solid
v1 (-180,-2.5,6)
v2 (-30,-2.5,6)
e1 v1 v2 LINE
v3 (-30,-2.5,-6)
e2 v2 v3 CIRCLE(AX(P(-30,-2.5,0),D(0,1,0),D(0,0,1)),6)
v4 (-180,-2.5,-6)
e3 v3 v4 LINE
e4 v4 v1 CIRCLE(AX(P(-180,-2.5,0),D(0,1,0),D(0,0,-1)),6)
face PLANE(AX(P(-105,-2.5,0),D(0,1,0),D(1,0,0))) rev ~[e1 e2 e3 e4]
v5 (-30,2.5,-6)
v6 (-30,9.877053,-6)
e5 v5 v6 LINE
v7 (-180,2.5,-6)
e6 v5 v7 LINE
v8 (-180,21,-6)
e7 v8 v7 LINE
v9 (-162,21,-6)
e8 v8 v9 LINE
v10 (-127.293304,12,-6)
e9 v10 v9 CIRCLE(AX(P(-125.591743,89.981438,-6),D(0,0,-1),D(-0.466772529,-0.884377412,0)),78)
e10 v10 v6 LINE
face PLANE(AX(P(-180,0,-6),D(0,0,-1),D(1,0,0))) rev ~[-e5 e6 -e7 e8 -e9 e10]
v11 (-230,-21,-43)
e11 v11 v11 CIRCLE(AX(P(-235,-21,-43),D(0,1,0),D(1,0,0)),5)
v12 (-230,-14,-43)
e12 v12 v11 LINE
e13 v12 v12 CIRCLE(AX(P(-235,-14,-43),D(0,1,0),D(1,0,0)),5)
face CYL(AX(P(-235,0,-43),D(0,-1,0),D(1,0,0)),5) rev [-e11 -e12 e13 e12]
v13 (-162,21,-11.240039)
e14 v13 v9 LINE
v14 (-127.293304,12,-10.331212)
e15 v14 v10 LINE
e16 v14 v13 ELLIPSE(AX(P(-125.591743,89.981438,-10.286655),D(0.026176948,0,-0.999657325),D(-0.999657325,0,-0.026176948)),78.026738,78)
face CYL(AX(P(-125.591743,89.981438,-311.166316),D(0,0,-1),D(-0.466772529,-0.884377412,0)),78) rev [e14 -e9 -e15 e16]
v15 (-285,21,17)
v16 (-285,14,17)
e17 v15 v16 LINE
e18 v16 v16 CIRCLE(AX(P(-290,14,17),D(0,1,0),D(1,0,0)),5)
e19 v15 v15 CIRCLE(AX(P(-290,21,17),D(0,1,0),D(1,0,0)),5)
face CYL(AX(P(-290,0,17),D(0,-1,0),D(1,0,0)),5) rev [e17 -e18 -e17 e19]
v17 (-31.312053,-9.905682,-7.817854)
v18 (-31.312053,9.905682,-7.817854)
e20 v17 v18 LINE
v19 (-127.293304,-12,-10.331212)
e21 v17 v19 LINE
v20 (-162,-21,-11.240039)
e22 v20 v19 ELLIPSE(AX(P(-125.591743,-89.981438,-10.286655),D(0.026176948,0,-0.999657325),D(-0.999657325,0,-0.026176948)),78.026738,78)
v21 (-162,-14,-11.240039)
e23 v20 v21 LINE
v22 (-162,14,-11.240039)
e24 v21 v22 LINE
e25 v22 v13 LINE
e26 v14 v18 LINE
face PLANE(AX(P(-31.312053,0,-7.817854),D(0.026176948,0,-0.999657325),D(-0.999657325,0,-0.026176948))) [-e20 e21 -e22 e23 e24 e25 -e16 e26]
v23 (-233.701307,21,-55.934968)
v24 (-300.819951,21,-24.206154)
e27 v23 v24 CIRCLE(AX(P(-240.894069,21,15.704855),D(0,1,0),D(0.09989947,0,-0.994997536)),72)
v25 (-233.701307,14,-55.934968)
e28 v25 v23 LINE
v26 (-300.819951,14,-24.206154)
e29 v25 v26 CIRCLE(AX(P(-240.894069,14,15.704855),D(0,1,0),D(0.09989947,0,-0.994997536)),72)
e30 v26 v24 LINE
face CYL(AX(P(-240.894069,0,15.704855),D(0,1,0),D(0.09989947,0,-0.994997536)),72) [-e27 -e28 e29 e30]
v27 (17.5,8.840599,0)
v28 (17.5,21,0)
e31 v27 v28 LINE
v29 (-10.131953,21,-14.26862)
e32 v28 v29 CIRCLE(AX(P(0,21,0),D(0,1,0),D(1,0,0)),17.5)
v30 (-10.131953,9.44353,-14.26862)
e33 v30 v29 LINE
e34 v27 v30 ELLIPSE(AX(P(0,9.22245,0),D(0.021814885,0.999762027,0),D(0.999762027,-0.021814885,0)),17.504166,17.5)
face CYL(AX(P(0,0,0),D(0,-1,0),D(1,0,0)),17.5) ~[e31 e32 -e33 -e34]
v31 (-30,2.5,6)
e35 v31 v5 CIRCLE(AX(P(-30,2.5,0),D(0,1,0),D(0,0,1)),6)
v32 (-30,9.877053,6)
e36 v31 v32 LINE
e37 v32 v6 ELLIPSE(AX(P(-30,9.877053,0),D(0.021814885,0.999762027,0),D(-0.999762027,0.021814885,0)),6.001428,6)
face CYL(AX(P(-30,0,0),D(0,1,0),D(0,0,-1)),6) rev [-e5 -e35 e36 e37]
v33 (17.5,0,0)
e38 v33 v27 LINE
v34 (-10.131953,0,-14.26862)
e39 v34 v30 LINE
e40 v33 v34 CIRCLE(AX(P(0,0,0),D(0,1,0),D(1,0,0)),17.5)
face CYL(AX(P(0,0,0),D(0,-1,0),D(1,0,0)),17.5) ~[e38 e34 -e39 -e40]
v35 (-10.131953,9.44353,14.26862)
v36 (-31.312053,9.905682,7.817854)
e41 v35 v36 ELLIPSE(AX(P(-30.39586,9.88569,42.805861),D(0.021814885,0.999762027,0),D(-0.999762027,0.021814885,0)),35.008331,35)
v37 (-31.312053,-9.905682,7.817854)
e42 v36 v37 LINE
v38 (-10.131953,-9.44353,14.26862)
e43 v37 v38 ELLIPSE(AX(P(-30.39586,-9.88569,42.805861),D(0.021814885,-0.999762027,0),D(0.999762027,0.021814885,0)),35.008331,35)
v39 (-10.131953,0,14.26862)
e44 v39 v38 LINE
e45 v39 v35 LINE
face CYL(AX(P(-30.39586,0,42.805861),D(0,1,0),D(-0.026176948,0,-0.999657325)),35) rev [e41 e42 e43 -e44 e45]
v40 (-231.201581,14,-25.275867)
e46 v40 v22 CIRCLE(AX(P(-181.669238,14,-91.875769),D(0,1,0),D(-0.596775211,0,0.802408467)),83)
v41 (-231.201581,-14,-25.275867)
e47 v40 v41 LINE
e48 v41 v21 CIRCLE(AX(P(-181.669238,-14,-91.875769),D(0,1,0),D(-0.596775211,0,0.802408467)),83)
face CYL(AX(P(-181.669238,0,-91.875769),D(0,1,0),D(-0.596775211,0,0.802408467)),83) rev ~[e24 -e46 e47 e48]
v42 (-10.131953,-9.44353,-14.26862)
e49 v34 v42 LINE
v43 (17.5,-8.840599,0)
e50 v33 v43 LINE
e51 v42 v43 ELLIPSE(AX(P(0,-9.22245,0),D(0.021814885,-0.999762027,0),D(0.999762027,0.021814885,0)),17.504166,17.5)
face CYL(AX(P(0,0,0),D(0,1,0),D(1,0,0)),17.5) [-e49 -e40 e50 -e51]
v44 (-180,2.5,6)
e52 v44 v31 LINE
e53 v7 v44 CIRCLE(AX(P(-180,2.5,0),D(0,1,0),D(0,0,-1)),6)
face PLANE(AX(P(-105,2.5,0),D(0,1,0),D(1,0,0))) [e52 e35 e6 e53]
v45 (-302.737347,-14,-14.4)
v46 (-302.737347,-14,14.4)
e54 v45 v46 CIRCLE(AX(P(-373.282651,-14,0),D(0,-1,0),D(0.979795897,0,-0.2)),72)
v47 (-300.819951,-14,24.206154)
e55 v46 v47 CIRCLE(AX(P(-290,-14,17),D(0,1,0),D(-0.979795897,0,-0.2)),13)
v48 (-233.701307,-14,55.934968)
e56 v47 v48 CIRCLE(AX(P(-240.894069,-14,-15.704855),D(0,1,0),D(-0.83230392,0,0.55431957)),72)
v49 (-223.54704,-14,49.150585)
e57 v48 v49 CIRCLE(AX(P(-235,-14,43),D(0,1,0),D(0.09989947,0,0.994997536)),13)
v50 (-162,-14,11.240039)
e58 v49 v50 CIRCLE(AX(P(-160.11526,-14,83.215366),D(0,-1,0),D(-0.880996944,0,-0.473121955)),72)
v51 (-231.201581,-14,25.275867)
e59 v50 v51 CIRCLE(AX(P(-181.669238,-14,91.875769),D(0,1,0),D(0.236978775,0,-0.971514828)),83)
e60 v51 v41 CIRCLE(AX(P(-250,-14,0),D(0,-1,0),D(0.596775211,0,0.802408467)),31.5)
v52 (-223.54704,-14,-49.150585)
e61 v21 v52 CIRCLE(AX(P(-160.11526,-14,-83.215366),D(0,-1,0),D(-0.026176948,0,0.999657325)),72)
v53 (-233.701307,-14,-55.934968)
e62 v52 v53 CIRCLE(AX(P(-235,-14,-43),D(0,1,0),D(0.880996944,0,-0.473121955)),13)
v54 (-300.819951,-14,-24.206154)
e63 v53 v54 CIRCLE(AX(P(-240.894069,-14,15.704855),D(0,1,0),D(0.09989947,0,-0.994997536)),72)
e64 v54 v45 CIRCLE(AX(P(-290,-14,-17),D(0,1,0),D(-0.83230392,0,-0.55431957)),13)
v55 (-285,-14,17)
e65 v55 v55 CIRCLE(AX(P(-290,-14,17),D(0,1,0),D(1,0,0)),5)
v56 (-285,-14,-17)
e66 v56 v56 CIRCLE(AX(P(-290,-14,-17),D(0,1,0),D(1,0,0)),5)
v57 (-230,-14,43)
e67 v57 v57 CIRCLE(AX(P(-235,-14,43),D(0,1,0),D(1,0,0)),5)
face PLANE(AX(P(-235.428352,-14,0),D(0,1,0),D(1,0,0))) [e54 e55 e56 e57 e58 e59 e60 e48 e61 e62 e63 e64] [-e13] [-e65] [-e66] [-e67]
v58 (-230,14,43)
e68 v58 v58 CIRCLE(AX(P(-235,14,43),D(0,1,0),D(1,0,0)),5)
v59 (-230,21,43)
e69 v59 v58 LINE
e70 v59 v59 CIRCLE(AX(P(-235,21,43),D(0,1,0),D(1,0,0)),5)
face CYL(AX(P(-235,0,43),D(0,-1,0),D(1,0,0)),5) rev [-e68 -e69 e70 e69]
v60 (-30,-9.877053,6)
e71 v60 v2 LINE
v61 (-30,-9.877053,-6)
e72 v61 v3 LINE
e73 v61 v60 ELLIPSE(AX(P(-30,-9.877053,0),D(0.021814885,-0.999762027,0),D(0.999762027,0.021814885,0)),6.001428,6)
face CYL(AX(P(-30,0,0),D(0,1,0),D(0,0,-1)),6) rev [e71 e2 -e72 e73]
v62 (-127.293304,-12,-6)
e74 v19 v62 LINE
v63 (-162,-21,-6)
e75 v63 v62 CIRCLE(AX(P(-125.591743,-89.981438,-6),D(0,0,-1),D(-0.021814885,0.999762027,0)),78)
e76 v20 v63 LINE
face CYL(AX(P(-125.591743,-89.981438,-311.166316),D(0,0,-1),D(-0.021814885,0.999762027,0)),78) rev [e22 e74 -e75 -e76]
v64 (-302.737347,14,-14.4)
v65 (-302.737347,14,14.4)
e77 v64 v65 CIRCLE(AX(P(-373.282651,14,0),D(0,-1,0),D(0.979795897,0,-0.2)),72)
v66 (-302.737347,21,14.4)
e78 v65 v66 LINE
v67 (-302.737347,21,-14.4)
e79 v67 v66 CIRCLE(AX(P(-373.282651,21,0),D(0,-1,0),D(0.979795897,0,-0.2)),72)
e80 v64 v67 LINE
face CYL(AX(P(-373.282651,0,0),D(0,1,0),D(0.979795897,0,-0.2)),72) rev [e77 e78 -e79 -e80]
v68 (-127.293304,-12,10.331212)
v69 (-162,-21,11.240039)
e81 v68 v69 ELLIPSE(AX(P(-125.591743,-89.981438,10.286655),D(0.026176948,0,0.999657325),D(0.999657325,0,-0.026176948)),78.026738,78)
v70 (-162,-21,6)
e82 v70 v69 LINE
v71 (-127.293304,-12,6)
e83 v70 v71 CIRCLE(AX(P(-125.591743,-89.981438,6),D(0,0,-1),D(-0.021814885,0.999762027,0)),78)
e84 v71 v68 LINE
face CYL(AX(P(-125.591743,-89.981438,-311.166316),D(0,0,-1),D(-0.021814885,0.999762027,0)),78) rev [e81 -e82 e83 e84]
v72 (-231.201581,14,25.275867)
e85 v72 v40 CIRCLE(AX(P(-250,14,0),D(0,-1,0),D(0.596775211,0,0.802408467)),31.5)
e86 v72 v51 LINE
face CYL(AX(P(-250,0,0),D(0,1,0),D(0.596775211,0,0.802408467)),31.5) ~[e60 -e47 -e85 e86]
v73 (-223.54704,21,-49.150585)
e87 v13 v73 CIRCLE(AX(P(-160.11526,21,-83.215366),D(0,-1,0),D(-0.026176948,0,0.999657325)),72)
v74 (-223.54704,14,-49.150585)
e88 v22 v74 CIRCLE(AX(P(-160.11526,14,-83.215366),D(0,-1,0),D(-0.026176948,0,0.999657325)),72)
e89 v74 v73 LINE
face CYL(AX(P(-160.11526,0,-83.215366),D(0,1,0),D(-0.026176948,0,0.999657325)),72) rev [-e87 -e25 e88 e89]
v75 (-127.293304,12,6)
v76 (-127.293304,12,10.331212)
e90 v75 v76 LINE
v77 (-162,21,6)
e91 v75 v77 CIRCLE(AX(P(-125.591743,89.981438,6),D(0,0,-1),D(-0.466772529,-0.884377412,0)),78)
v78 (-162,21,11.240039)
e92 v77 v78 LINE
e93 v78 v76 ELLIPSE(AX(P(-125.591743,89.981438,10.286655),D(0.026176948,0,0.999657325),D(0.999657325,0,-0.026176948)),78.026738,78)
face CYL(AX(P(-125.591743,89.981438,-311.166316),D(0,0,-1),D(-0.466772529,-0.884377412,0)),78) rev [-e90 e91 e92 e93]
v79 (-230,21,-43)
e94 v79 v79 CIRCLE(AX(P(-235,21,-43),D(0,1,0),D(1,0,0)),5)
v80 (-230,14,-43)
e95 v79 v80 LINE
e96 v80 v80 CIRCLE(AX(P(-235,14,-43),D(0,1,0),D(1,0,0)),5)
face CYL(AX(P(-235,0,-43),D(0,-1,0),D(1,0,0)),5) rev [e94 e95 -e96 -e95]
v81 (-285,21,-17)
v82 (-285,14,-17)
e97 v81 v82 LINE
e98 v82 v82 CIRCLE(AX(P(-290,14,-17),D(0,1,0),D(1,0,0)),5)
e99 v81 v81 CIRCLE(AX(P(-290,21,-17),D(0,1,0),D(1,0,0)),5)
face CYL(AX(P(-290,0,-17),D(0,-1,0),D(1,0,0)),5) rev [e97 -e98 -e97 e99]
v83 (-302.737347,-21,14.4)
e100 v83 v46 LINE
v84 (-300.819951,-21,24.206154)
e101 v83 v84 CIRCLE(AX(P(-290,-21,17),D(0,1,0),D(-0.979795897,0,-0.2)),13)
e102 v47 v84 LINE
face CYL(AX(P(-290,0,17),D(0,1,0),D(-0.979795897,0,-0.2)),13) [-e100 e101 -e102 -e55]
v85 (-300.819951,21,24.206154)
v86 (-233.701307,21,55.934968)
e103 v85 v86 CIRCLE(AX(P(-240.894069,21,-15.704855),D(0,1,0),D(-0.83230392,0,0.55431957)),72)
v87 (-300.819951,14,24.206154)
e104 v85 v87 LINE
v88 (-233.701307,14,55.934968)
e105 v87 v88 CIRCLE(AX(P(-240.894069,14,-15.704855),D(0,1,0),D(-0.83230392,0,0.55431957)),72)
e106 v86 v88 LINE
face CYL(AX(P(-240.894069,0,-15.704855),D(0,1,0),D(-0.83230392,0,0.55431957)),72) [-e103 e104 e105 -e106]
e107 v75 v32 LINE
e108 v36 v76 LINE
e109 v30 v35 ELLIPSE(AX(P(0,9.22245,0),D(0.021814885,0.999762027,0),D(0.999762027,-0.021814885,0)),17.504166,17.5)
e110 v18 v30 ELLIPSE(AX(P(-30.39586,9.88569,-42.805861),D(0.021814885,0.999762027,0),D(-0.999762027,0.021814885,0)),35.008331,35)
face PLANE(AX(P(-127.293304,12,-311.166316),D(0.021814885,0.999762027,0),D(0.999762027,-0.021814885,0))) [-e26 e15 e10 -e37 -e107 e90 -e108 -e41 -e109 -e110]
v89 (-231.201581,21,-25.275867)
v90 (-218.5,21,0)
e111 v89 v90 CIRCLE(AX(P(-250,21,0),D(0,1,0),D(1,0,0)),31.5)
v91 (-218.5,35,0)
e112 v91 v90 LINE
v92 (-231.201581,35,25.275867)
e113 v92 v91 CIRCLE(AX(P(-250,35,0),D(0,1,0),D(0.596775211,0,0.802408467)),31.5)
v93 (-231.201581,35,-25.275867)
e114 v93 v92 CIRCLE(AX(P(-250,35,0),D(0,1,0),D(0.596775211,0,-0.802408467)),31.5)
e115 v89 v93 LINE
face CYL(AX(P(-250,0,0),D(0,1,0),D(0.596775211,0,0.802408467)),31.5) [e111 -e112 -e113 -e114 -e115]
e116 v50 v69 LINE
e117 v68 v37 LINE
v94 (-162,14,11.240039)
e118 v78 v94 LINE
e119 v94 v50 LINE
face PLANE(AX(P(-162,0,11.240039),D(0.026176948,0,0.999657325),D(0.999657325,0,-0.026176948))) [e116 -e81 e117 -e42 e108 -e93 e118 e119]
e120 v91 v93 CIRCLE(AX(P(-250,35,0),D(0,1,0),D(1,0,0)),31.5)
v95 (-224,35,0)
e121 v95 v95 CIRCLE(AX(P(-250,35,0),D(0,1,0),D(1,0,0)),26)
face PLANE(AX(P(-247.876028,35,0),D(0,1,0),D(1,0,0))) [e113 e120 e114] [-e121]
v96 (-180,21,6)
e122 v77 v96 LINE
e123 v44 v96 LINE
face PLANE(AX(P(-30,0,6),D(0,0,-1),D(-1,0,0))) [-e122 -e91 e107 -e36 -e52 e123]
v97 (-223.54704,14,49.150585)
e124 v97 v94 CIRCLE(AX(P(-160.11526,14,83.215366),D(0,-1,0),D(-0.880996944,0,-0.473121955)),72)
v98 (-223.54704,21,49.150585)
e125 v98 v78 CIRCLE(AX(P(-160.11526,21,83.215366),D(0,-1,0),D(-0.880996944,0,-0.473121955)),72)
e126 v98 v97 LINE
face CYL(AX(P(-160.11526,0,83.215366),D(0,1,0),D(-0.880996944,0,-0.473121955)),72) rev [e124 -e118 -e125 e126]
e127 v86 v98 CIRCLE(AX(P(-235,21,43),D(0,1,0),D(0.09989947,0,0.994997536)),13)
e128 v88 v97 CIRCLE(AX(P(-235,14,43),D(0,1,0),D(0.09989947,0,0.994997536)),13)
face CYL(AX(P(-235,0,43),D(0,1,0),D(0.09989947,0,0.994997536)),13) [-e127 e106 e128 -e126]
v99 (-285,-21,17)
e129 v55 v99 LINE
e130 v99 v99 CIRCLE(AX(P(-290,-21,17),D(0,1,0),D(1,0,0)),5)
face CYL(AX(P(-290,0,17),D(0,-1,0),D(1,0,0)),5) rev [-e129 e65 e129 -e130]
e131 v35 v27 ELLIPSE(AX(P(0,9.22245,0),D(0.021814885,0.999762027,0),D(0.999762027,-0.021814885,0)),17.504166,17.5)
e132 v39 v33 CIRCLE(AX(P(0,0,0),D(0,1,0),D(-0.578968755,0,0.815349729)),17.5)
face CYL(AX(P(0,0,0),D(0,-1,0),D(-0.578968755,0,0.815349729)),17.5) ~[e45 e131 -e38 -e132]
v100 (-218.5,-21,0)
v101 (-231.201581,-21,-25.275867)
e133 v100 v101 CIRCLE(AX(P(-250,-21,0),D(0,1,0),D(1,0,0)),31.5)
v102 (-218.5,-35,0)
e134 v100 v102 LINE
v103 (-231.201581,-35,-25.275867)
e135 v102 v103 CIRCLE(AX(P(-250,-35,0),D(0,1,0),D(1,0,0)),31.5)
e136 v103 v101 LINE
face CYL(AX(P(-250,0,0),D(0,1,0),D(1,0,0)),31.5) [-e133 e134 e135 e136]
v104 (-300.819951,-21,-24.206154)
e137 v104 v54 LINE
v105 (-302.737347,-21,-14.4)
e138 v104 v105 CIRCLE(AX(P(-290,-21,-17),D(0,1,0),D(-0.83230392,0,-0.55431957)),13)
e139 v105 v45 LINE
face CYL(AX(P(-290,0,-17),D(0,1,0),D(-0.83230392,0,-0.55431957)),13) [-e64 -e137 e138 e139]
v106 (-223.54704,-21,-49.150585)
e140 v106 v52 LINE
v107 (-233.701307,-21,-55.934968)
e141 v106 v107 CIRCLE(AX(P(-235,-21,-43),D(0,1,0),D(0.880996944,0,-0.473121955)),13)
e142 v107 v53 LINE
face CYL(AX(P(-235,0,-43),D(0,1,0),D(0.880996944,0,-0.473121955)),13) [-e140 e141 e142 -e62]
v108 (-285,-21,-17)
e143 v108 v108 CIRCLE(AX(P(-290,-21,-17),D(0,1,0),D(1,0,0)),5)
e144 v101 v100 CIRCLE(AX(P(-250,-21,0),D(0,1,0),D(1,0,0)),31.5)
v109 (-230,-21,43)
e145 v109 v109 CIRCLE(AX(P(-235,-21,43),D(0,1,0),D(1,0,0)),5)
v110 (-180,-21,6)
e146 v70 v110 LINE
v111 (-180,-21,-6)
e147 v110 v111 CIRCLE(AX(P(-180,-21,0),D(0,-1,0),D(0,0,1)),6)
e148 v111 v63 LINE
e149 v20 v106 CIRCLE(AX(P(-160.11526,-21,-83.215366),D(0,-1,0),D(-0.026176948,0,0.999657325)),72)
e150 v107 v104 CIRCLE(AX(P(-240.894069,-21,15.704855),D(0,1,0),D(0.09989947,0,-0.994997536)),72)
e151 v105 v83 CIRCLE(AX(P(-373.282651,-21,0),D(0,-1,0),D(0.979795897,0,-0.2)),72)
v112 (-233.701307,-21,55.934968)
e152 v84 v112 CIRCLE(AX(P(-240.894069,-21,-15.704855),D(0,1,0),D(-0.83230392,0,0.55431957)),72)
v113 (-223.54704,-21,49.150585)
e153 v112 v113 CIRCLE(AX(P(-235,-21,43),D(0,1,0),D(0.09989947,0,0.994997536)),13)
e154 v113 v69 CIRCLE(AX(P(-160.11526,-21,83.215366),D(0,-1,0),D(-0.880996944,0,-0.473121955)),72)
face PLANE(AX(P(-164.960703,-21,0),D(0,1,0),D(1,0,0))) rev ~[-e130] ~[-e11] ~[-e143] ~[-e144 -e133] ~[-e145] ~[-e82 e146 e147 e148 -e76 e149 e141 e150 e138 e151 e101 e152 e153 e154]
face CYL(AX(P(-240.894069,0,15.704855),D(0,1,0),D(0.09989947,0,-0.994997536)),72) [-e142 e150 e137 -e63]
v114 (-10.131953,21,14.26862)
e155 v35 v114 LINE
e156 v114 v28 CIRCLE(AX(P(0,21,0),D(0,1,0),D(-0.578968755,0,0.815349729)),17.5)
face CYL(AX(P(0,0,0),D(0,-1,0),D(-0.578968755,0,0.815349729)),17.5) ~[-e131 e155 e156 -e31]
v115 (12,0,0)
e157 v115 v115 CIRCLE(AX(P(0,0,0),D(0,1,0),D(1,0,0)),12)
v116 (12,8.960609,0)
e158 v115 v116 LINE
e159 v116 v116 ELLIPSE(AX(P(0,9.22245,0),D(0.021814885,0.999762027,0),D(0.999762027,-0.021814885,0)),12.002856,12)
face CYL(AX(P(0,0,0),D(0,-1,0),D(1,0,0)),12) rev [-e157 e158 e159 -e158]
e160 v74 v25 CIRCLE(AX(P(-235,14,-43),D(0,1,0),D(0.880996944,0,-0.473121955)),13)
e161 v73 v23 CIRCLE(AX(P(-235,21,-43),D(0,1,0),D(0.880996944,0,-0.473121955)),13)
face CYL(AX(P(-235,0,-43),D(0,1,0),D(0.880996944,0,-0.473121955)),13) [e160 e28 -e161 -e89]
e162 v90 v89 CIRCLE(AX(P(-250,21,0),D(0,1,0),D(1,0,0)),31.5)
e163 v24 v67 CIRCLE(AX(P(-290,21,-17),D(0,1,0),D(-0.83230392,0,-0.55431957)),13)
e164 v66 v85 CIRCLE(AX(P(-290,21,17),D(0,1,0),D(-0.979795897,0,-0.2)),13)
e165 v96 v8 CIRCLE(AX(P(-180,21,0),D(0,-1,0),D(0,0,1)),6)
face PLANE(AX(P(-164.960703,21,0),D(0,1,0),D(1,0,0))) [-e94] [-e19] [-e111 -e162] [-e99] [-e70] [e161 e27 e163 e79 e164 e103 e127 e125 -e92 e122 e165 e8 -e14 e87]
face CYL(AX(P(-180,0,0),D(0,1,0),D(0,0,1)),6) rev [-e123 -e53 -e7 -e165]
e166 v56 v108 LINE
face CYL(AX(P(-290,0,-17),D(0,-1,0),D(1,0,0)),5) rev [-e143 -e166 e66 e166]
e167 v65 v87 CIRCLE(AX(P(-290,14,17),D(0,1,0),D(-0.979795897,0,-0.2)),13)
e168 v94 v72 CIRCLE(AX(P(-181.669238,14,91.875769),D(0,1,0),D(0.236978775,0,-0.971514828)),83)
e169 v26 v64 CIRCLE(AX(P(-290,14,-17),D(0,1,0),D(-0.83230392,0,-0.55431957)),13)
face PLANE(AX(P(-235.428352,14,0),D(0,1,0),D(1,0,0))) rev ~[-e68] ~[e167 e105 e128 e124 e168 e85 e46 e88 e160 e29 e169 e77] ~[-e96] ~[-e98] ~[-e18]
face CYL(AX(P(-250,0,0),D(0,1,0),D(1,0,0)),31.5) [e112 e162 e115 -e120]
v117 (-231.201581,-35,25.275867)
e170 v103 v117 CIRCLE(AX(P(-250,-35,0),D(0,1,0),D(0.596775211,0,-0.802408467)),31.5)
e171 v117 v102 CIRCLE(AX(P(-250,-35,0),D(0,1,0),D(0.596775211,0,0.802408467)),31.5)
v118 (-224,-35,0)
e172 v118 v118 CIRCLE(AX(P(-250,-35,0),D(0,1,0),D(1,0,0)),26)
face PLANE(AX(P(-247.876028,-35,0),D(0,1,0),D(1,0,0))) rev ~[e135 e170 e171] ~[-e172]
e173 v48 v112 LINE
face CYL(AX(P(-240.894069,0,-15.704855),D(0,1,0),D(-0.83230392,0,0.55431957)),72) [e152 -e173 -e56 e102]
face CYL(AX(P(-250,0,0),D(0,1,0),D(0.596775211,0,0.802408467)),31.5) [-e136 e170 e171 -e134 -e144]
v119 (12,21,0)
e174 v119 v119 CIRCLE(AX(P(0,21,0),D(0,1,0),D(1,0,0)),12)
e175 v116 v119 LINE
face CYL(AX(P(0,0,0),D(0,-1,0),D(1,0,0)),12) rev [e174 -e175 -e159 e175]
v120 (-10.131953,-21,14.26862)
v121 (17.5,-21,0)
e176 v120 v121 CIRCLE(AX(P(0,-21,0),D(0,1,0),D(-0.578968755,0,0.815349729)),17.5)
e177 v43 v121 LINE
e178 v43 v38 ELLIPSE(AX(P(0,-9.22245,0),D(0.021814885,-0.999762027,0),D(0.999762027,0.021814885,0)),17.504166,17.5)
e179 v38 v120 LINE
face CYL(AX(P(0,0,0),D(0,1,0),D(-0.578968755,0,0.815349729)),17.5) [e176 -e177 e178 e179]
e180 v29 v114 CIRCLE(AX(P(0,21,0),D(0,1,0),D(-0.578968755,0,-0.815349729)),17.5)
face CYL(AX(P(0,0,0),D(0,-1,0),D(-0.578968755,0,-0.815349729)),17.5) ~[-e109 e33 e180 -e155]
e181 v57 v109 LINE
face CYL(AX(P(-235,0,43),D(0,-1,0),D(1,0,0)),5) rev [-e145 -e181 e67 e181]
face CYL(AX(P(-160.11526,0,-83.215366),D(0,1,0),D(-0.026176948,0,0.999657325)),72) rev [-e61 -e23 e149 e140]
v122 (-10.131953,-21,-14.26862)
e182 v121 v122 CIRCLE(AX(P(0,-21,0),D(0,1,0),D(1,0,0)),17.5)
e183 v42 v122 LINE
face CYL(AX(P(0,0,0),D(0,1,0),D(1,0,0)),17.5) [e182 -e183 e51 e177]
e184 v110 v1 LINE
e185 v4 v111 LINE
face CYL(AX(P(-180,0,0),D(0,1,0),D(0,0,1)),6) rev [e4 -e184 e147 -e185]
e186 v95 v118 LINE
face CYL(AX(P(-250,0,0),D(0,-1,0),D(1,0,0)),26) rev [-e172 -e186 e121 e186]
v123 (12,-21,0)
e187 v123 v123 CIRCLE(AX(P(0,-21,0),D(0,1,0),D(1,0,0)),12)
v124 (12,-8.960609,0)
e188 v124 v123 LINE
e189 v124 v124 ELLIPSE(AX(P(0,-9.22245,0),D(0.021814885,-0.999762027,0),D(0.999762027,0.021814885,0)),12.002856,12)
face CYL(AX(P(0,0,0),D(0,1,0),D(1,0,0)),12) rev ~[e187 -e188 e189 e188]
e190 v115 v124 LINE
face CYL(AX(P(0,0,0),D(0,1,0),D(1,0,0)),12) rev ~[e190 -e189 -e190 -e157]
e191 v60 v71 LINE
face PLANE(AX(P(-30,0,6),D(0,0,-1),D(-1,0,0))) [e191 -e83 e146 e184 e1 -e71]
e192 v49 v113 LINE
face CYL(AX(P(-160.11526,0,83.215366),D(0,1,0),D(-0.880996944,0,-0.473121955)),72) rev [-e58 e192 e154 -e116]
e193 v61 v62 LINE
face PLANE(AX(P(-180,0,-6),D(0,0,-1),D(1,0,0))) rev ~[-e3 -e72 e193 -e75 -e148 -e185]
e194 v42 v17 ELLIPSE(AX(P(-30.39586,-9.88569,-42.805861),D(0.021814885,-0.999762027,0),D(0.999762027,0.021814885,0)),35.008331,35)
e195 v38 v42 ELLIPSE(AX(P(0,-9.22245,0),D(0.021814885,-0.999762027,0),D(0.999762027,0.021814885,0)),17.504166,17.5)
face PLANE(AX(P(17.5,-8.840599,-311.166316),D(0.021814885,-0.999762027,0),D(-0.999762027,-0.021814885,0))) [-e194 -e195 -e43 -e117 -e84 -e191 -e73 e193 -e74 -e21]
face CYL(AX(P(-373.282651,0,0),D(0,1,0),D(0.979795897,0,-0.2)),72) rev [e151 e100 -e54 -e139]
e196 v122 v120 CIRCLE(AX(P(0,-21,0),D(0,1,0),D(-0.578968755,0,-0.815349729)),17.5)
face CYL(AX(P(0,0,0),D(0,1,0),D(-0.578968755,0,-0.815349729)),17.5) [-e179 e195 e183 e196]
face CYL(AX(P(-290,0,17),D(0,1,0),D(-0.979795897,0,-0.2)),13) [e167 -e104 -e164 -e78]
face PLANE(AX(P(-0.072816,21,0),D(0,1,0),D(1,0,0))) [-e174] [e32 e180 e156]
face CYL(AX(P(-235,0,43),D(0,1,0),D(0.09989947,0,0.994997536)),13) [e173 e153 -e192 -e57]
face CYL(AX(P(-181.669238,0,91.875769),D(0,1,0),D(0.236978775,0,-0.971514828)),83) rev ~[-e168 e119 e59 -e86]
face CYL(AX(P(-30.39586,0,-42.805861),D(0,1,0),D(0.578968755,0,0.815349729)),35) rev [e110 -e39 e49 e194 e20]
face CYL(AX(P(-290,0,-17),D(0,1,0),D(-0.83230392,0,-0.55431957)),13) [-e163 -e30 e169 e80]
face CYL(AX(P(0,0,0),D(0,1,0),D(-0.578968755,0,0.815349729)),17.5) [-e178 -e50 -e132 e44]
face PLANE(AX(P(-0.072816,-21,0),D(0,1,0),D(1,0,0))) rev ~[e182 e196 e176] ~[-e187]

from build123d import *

# Parameters (mm, degrees)
SKETCH1_R               = 12
BOSS_EXTRUDE1_DEPTH     = 21
SKETCH1_3_R             = 26
BOSS_EXTRUDE2_DEPTH     = 35
SKETCH1_4_R             = 31.5
SKETCH1_4_R_2           = 5
BOSS_EXTRUDE3_DEPTH     = 21
BOSS_EXTRUDE4_DEPTH     = 2.5
CUT_EXTRUDE1_DEPTH      = 311.166315701
CUT_EXTRUDE1_DEPTH_BACK = 311.166315701
SKETCH1_6_R             = 12
BOSS_EXTRUDE5_DEPTH     = 21
SKETCH1_7_R             = 5
CUT_EXTRUDE2_DEPTH      = 14


with BuildPart() as part:
    # Sketch1 → Boss-Extrude1 (new, symmetric)
    with BuildSketch(Plane(origin=(0, 0, 0), x_dir=(1, 0, 0), z_dir=(0, 1, 0))):
        with BuildLine():
            ThreePointArc((17.5, 0), (8.02934676, 15.549263346), (-10.131953212, 14.268620259))
            ThreePointArc((-10.131953212, 14.268620259), (-17.5, 0), (-10.131953212, -14.268620259))
            ThreePointArc((-10.131953212, -14.268620259), (8.02934676, -15.549263346), (17.5, 0))
        make_face()
        Circle(SKETCH1_R, mode=Mode.SUBTRACT)
    extrude(amount=BOSS_EXTRUDE1_DEPTH, both=True)



with BuildPart() as body_2:
    # Sketch1<3> → Boss-Extrude2 (new, symmetric)
    with BuildSketch(Plane(origin=(0, 0, 0), x_dir=(1, 0, 0), z_dir=(0, 1, 0))):
        with BuildLine():
            ThreePointArc((-218.5, 0), (-221.853950514, 14.143899687), (-231.201580847, 25.275866699))
            ThreePointArc((-231.201580847, 25.275866699), (-281.5, 0), (-231.201580847, -25.275866699))
            ThreePointArc((-231.201580847, -25.275866699), (-221.853950514, -14.143899687), (-218.5, 0))
        make_face()
        with Locations((-250, 0)):
            Circle(SKETCH1_3_R, mode=Mode.SUBTRACT)
    extrude(amount=BOSS_EXTRUDE2_DEPTH, both=True)


with BuildPart() as part_1:
    add(part.part)

    add(body_2.part)  # Boss-Extrude3 merges body 2
    # Sketch1<4> → Boss-Extrude3 (add, symmetric)
    with BuildSketch(Plane(origin=(0, 0, 0), x_dir=(1, 0, 0), z_dir=(0, 1, 0))):
        with BuildLine():
            ThreePointArc((-10.131953212, 14.268620259), (-20.198477773, 9.324322534), (-31.312052828, 7.817854403))
            Line((-31.312052828, 7.817854403), (-162, 11.240038738))
            ThreePointArc((-162, 11.240038738), (-197.875878659, 21.911731191), (-223.547039722, 49.150585409))
            ThreePointArc((-223.547039722, 49.150585409), (-227.777941589, 53.8093419), (-233.701306889, 55.934967963))
            ThreePointArc((-233.701306889, 55.934967963), (-271.66540115, 49.388348587), (-300.819950957, 24.206154404))
            ThreePointArc((-300.819950957, 24.206154404), (-302.758398561, 19.494647504), (-302.737346662, 14.4))
            ThreePointArc((-302.737346662, 14.4), (-301.282651255, 0), (-302.737346662, -14.4))
            ThreePointArc((-302.737346662, -14.4), (-302.758398561, -19.494647504), (-300.819950957, -24.206154404))
            ThreePointArc((-300.819950957, -24.206154404), (-271.66540115, -49.388348587), (-233.701306889, -55.934967963))
            ThreePointArc((-233.701306889, -55.934967963), (-227.777941589, -53.8093419), (-223.547039722, -49.150585409))
            ThreePointArc((-223.547039722, -49.150585409), (-197.875878659, -21.911731191), (-162, -11.240038738))
            Line((-162, -11.240038738), (-31.312052828, -7.817854403))
            ThreePointArc((-31.312052828, -7.817854403), (-20.198477773, -9.324322534), (-10.131953212, -14.268620259))
            ThreePointArc((-10.131953212, -14.268620259), (-17.5, 0), (-10.131953212, 14.268620259))
        make_face()
        with Locations((-250, 0)):
            Circle(SKETCH1_4_R, mode=Mode.SUBTRACT)
        with BuildLine():
            ThreePointArc((-180, -6), (-186, 0), (-180, 6))
            Line((-180, 6), (-30, 6))
            ThreePointArc((-30, 6), (-24, 0), (-30, -6))
            Line((-30, -6), (-180, -6))
        make_face(mode=Mode.SUBTRACT)
        with Locations((-290, 17)):
            Circle(SKETCH1_4_R_2, mode=Mode.SUBTRACT)
        with Locations((-235, 43)):
            Circle(SKETCH1_4_R_2, mode=Mode.SUBTRACT)
        with Locations((-235, -43)):
            Circle(SKETCH1_4_R_2, mode=Mode.SUBTRACT)
        with Locations((-290, -17)):
            Circle(SKETCH1_4_R_2, mode=Mode.SUBTRACT)
    extrude(amount=BOSS_EXTRUDE3_DEPTH, both=True)

    # Sketch1<5> → Boss-Extrude4 (add, symmetric)
    with BuildSketch(Plane(origin=(0, 0, 0), x_dir=(1, 0, 0), z_dir=(0, 1, 0))):
        with BuildLine():
            Line((-30, 6), (-180, 6))
            ThreePointArc((-180, 6), (-186, 0), (-180, -6))
            Line((-180, -6), (-30, -6))
            ThreePointArc((-30, -6), (-24, 0), (-30, 6))
        make_face()
    extrude(amount=BOSS_EXTRUDE4_DEPTH, both=True)

    # Sketch3 → Cut-Extrude1 (cut, two sides: drawn at the far end of the back side and taken through both)
    with BuildSketch(Plane.XY.offset(-CUT_EXTRUDE1_DEPTH_BACK)):
        with BuildLine():
            ThreePointArc((-162, 21), (-145.170802033, 14.478720031), (-127.293303783, 12))
            Line((-127.293303783, 12), (17.5, 8.840598872))
            Line((17.5, 8.840598872), (17.5, 21))
            Line((17.5, 21), (-162, 21))
        make_face()
        with BuildLine():
            Line((17.5, -8.840598872), (-127.293303783, -12))
            ThreePointArc((-127.293303783, -12), (-145.170802033, -14.478720031), (-162, -21))
            Line((-162, -21), (17.5, -21))
            Line((17.5, -21), (17.5, -8.840598872))
        make_face()
    extrude(amount=CUT_EXTRUDE1_DEPTH + CUT_EXTRUDE1_DEPTH_BACK, mode=Mode.SUBTRACT)

    # Sketch1<6> → Boss-Extrude5 (add, symmetric)
    with BuildSketch(Plane(origin=(0, 0, 0), x_dir=(1, 0, 0), z_dir=(0, 1, 0))):
        with BuildLine():
            ThreePointArc((17.5, 0), (8.02934676, 15.549263346), (-10.131953212, 14.268620259))
            ThreePointArc((-10.131953212, 14.268620259), (-17.5, 0), (-10.131953212, -14.268620259))
            ThreePointArc((-10.131953212, -14.268620259), (8.02934676, -15.549263346), (17.5, 0))
        make_face()
        Circle(SKETCH1_6_R, mode=Mode.SUBTRACT)
    extrude(amount=BOSS_EXTRUDE5_DEPTH, both=True)

    # Sketch1<7> → Cut-Extrude2 (cut, symmetric)
    with BuildSketch(Plane(origin=(0, 0, 0), x_dir=(1, 0, 0), z_dir=(0, 1, 0))):
        with BuildLine():
            ThreePointArc((-231.201580847, 25.275866699), (-198.167794768, 10.53206878), (-162, 11.240038738))
            ThreePointArc((-162, 11.240038738), (-197.875878659, 21.911731191), (-223.547039722, 49.150585409))
            ThreePointArc((-223.547039722, 49.150585409), (-227.777941589, 53.8093419), (-233.701306889, 55.934967963))
            ThreePointArc((-233.701306889, 55.934967963), (-271.66540115, 49.388348587), (-300.819950957, 24.206154404))
            ThreePointArc((-300.819950957, 24.206154404), (-302.758398561, 19.494647504), (-302.737346662, 14.4))
            ThreePointArc((-302.737346662, 14.4), (-301.282651255, 0), (-302.737346662, -14.4))
            ThreePointArc((-302.737346662, -14.4), (-302.758398561, -19.494647504), (-300.819950957, -24.206154404))
            ThreePointArc((-300.819950957, -24.206154404), (-271.66540115, -49.388348587), (-233.701306889, -55.934967963))
            ThreePointArc((-233.701306889, -55.934967963), (-227.777941589, -53.8093419), (-223.547039722, -49.150585409))
            ThreePointArc((-223.547039722, -49.150585409), (-197.875878659, -21.911731191), (-162, -11.240038738))
            ThreePointArc((-162, -11.240038738), (-198.167794768, -10.53206878), (-231.201580847, -25.275866699))
            ThreePointArc((-231.201580847, -25.275866699), (-281.5, 0), (-231.201580847, 25.275866699))
        make_face()
        with Locations((-235, -43)):
            Circle(SKETCH1_7_R, mode=Mode.SUBTRACT)
        with Locations((-290, -17)):
            Circle(SKETCH1_7_R, mode=Mode.SUBTRACT)
        with Locations((-290, 17)):
            Circle(SKETCH1_7_R, mode=Mode.SUBTRACT)
        with Locations((-235, 43)):
            Circle(SKETCH1_7_R, mode=Mode.SUBTRACT)
    extrude(amount=CUT_EXTRUDE2_DEPTH, both=True, mode=Mode.SUBTRACT)


solid = part_1.part
